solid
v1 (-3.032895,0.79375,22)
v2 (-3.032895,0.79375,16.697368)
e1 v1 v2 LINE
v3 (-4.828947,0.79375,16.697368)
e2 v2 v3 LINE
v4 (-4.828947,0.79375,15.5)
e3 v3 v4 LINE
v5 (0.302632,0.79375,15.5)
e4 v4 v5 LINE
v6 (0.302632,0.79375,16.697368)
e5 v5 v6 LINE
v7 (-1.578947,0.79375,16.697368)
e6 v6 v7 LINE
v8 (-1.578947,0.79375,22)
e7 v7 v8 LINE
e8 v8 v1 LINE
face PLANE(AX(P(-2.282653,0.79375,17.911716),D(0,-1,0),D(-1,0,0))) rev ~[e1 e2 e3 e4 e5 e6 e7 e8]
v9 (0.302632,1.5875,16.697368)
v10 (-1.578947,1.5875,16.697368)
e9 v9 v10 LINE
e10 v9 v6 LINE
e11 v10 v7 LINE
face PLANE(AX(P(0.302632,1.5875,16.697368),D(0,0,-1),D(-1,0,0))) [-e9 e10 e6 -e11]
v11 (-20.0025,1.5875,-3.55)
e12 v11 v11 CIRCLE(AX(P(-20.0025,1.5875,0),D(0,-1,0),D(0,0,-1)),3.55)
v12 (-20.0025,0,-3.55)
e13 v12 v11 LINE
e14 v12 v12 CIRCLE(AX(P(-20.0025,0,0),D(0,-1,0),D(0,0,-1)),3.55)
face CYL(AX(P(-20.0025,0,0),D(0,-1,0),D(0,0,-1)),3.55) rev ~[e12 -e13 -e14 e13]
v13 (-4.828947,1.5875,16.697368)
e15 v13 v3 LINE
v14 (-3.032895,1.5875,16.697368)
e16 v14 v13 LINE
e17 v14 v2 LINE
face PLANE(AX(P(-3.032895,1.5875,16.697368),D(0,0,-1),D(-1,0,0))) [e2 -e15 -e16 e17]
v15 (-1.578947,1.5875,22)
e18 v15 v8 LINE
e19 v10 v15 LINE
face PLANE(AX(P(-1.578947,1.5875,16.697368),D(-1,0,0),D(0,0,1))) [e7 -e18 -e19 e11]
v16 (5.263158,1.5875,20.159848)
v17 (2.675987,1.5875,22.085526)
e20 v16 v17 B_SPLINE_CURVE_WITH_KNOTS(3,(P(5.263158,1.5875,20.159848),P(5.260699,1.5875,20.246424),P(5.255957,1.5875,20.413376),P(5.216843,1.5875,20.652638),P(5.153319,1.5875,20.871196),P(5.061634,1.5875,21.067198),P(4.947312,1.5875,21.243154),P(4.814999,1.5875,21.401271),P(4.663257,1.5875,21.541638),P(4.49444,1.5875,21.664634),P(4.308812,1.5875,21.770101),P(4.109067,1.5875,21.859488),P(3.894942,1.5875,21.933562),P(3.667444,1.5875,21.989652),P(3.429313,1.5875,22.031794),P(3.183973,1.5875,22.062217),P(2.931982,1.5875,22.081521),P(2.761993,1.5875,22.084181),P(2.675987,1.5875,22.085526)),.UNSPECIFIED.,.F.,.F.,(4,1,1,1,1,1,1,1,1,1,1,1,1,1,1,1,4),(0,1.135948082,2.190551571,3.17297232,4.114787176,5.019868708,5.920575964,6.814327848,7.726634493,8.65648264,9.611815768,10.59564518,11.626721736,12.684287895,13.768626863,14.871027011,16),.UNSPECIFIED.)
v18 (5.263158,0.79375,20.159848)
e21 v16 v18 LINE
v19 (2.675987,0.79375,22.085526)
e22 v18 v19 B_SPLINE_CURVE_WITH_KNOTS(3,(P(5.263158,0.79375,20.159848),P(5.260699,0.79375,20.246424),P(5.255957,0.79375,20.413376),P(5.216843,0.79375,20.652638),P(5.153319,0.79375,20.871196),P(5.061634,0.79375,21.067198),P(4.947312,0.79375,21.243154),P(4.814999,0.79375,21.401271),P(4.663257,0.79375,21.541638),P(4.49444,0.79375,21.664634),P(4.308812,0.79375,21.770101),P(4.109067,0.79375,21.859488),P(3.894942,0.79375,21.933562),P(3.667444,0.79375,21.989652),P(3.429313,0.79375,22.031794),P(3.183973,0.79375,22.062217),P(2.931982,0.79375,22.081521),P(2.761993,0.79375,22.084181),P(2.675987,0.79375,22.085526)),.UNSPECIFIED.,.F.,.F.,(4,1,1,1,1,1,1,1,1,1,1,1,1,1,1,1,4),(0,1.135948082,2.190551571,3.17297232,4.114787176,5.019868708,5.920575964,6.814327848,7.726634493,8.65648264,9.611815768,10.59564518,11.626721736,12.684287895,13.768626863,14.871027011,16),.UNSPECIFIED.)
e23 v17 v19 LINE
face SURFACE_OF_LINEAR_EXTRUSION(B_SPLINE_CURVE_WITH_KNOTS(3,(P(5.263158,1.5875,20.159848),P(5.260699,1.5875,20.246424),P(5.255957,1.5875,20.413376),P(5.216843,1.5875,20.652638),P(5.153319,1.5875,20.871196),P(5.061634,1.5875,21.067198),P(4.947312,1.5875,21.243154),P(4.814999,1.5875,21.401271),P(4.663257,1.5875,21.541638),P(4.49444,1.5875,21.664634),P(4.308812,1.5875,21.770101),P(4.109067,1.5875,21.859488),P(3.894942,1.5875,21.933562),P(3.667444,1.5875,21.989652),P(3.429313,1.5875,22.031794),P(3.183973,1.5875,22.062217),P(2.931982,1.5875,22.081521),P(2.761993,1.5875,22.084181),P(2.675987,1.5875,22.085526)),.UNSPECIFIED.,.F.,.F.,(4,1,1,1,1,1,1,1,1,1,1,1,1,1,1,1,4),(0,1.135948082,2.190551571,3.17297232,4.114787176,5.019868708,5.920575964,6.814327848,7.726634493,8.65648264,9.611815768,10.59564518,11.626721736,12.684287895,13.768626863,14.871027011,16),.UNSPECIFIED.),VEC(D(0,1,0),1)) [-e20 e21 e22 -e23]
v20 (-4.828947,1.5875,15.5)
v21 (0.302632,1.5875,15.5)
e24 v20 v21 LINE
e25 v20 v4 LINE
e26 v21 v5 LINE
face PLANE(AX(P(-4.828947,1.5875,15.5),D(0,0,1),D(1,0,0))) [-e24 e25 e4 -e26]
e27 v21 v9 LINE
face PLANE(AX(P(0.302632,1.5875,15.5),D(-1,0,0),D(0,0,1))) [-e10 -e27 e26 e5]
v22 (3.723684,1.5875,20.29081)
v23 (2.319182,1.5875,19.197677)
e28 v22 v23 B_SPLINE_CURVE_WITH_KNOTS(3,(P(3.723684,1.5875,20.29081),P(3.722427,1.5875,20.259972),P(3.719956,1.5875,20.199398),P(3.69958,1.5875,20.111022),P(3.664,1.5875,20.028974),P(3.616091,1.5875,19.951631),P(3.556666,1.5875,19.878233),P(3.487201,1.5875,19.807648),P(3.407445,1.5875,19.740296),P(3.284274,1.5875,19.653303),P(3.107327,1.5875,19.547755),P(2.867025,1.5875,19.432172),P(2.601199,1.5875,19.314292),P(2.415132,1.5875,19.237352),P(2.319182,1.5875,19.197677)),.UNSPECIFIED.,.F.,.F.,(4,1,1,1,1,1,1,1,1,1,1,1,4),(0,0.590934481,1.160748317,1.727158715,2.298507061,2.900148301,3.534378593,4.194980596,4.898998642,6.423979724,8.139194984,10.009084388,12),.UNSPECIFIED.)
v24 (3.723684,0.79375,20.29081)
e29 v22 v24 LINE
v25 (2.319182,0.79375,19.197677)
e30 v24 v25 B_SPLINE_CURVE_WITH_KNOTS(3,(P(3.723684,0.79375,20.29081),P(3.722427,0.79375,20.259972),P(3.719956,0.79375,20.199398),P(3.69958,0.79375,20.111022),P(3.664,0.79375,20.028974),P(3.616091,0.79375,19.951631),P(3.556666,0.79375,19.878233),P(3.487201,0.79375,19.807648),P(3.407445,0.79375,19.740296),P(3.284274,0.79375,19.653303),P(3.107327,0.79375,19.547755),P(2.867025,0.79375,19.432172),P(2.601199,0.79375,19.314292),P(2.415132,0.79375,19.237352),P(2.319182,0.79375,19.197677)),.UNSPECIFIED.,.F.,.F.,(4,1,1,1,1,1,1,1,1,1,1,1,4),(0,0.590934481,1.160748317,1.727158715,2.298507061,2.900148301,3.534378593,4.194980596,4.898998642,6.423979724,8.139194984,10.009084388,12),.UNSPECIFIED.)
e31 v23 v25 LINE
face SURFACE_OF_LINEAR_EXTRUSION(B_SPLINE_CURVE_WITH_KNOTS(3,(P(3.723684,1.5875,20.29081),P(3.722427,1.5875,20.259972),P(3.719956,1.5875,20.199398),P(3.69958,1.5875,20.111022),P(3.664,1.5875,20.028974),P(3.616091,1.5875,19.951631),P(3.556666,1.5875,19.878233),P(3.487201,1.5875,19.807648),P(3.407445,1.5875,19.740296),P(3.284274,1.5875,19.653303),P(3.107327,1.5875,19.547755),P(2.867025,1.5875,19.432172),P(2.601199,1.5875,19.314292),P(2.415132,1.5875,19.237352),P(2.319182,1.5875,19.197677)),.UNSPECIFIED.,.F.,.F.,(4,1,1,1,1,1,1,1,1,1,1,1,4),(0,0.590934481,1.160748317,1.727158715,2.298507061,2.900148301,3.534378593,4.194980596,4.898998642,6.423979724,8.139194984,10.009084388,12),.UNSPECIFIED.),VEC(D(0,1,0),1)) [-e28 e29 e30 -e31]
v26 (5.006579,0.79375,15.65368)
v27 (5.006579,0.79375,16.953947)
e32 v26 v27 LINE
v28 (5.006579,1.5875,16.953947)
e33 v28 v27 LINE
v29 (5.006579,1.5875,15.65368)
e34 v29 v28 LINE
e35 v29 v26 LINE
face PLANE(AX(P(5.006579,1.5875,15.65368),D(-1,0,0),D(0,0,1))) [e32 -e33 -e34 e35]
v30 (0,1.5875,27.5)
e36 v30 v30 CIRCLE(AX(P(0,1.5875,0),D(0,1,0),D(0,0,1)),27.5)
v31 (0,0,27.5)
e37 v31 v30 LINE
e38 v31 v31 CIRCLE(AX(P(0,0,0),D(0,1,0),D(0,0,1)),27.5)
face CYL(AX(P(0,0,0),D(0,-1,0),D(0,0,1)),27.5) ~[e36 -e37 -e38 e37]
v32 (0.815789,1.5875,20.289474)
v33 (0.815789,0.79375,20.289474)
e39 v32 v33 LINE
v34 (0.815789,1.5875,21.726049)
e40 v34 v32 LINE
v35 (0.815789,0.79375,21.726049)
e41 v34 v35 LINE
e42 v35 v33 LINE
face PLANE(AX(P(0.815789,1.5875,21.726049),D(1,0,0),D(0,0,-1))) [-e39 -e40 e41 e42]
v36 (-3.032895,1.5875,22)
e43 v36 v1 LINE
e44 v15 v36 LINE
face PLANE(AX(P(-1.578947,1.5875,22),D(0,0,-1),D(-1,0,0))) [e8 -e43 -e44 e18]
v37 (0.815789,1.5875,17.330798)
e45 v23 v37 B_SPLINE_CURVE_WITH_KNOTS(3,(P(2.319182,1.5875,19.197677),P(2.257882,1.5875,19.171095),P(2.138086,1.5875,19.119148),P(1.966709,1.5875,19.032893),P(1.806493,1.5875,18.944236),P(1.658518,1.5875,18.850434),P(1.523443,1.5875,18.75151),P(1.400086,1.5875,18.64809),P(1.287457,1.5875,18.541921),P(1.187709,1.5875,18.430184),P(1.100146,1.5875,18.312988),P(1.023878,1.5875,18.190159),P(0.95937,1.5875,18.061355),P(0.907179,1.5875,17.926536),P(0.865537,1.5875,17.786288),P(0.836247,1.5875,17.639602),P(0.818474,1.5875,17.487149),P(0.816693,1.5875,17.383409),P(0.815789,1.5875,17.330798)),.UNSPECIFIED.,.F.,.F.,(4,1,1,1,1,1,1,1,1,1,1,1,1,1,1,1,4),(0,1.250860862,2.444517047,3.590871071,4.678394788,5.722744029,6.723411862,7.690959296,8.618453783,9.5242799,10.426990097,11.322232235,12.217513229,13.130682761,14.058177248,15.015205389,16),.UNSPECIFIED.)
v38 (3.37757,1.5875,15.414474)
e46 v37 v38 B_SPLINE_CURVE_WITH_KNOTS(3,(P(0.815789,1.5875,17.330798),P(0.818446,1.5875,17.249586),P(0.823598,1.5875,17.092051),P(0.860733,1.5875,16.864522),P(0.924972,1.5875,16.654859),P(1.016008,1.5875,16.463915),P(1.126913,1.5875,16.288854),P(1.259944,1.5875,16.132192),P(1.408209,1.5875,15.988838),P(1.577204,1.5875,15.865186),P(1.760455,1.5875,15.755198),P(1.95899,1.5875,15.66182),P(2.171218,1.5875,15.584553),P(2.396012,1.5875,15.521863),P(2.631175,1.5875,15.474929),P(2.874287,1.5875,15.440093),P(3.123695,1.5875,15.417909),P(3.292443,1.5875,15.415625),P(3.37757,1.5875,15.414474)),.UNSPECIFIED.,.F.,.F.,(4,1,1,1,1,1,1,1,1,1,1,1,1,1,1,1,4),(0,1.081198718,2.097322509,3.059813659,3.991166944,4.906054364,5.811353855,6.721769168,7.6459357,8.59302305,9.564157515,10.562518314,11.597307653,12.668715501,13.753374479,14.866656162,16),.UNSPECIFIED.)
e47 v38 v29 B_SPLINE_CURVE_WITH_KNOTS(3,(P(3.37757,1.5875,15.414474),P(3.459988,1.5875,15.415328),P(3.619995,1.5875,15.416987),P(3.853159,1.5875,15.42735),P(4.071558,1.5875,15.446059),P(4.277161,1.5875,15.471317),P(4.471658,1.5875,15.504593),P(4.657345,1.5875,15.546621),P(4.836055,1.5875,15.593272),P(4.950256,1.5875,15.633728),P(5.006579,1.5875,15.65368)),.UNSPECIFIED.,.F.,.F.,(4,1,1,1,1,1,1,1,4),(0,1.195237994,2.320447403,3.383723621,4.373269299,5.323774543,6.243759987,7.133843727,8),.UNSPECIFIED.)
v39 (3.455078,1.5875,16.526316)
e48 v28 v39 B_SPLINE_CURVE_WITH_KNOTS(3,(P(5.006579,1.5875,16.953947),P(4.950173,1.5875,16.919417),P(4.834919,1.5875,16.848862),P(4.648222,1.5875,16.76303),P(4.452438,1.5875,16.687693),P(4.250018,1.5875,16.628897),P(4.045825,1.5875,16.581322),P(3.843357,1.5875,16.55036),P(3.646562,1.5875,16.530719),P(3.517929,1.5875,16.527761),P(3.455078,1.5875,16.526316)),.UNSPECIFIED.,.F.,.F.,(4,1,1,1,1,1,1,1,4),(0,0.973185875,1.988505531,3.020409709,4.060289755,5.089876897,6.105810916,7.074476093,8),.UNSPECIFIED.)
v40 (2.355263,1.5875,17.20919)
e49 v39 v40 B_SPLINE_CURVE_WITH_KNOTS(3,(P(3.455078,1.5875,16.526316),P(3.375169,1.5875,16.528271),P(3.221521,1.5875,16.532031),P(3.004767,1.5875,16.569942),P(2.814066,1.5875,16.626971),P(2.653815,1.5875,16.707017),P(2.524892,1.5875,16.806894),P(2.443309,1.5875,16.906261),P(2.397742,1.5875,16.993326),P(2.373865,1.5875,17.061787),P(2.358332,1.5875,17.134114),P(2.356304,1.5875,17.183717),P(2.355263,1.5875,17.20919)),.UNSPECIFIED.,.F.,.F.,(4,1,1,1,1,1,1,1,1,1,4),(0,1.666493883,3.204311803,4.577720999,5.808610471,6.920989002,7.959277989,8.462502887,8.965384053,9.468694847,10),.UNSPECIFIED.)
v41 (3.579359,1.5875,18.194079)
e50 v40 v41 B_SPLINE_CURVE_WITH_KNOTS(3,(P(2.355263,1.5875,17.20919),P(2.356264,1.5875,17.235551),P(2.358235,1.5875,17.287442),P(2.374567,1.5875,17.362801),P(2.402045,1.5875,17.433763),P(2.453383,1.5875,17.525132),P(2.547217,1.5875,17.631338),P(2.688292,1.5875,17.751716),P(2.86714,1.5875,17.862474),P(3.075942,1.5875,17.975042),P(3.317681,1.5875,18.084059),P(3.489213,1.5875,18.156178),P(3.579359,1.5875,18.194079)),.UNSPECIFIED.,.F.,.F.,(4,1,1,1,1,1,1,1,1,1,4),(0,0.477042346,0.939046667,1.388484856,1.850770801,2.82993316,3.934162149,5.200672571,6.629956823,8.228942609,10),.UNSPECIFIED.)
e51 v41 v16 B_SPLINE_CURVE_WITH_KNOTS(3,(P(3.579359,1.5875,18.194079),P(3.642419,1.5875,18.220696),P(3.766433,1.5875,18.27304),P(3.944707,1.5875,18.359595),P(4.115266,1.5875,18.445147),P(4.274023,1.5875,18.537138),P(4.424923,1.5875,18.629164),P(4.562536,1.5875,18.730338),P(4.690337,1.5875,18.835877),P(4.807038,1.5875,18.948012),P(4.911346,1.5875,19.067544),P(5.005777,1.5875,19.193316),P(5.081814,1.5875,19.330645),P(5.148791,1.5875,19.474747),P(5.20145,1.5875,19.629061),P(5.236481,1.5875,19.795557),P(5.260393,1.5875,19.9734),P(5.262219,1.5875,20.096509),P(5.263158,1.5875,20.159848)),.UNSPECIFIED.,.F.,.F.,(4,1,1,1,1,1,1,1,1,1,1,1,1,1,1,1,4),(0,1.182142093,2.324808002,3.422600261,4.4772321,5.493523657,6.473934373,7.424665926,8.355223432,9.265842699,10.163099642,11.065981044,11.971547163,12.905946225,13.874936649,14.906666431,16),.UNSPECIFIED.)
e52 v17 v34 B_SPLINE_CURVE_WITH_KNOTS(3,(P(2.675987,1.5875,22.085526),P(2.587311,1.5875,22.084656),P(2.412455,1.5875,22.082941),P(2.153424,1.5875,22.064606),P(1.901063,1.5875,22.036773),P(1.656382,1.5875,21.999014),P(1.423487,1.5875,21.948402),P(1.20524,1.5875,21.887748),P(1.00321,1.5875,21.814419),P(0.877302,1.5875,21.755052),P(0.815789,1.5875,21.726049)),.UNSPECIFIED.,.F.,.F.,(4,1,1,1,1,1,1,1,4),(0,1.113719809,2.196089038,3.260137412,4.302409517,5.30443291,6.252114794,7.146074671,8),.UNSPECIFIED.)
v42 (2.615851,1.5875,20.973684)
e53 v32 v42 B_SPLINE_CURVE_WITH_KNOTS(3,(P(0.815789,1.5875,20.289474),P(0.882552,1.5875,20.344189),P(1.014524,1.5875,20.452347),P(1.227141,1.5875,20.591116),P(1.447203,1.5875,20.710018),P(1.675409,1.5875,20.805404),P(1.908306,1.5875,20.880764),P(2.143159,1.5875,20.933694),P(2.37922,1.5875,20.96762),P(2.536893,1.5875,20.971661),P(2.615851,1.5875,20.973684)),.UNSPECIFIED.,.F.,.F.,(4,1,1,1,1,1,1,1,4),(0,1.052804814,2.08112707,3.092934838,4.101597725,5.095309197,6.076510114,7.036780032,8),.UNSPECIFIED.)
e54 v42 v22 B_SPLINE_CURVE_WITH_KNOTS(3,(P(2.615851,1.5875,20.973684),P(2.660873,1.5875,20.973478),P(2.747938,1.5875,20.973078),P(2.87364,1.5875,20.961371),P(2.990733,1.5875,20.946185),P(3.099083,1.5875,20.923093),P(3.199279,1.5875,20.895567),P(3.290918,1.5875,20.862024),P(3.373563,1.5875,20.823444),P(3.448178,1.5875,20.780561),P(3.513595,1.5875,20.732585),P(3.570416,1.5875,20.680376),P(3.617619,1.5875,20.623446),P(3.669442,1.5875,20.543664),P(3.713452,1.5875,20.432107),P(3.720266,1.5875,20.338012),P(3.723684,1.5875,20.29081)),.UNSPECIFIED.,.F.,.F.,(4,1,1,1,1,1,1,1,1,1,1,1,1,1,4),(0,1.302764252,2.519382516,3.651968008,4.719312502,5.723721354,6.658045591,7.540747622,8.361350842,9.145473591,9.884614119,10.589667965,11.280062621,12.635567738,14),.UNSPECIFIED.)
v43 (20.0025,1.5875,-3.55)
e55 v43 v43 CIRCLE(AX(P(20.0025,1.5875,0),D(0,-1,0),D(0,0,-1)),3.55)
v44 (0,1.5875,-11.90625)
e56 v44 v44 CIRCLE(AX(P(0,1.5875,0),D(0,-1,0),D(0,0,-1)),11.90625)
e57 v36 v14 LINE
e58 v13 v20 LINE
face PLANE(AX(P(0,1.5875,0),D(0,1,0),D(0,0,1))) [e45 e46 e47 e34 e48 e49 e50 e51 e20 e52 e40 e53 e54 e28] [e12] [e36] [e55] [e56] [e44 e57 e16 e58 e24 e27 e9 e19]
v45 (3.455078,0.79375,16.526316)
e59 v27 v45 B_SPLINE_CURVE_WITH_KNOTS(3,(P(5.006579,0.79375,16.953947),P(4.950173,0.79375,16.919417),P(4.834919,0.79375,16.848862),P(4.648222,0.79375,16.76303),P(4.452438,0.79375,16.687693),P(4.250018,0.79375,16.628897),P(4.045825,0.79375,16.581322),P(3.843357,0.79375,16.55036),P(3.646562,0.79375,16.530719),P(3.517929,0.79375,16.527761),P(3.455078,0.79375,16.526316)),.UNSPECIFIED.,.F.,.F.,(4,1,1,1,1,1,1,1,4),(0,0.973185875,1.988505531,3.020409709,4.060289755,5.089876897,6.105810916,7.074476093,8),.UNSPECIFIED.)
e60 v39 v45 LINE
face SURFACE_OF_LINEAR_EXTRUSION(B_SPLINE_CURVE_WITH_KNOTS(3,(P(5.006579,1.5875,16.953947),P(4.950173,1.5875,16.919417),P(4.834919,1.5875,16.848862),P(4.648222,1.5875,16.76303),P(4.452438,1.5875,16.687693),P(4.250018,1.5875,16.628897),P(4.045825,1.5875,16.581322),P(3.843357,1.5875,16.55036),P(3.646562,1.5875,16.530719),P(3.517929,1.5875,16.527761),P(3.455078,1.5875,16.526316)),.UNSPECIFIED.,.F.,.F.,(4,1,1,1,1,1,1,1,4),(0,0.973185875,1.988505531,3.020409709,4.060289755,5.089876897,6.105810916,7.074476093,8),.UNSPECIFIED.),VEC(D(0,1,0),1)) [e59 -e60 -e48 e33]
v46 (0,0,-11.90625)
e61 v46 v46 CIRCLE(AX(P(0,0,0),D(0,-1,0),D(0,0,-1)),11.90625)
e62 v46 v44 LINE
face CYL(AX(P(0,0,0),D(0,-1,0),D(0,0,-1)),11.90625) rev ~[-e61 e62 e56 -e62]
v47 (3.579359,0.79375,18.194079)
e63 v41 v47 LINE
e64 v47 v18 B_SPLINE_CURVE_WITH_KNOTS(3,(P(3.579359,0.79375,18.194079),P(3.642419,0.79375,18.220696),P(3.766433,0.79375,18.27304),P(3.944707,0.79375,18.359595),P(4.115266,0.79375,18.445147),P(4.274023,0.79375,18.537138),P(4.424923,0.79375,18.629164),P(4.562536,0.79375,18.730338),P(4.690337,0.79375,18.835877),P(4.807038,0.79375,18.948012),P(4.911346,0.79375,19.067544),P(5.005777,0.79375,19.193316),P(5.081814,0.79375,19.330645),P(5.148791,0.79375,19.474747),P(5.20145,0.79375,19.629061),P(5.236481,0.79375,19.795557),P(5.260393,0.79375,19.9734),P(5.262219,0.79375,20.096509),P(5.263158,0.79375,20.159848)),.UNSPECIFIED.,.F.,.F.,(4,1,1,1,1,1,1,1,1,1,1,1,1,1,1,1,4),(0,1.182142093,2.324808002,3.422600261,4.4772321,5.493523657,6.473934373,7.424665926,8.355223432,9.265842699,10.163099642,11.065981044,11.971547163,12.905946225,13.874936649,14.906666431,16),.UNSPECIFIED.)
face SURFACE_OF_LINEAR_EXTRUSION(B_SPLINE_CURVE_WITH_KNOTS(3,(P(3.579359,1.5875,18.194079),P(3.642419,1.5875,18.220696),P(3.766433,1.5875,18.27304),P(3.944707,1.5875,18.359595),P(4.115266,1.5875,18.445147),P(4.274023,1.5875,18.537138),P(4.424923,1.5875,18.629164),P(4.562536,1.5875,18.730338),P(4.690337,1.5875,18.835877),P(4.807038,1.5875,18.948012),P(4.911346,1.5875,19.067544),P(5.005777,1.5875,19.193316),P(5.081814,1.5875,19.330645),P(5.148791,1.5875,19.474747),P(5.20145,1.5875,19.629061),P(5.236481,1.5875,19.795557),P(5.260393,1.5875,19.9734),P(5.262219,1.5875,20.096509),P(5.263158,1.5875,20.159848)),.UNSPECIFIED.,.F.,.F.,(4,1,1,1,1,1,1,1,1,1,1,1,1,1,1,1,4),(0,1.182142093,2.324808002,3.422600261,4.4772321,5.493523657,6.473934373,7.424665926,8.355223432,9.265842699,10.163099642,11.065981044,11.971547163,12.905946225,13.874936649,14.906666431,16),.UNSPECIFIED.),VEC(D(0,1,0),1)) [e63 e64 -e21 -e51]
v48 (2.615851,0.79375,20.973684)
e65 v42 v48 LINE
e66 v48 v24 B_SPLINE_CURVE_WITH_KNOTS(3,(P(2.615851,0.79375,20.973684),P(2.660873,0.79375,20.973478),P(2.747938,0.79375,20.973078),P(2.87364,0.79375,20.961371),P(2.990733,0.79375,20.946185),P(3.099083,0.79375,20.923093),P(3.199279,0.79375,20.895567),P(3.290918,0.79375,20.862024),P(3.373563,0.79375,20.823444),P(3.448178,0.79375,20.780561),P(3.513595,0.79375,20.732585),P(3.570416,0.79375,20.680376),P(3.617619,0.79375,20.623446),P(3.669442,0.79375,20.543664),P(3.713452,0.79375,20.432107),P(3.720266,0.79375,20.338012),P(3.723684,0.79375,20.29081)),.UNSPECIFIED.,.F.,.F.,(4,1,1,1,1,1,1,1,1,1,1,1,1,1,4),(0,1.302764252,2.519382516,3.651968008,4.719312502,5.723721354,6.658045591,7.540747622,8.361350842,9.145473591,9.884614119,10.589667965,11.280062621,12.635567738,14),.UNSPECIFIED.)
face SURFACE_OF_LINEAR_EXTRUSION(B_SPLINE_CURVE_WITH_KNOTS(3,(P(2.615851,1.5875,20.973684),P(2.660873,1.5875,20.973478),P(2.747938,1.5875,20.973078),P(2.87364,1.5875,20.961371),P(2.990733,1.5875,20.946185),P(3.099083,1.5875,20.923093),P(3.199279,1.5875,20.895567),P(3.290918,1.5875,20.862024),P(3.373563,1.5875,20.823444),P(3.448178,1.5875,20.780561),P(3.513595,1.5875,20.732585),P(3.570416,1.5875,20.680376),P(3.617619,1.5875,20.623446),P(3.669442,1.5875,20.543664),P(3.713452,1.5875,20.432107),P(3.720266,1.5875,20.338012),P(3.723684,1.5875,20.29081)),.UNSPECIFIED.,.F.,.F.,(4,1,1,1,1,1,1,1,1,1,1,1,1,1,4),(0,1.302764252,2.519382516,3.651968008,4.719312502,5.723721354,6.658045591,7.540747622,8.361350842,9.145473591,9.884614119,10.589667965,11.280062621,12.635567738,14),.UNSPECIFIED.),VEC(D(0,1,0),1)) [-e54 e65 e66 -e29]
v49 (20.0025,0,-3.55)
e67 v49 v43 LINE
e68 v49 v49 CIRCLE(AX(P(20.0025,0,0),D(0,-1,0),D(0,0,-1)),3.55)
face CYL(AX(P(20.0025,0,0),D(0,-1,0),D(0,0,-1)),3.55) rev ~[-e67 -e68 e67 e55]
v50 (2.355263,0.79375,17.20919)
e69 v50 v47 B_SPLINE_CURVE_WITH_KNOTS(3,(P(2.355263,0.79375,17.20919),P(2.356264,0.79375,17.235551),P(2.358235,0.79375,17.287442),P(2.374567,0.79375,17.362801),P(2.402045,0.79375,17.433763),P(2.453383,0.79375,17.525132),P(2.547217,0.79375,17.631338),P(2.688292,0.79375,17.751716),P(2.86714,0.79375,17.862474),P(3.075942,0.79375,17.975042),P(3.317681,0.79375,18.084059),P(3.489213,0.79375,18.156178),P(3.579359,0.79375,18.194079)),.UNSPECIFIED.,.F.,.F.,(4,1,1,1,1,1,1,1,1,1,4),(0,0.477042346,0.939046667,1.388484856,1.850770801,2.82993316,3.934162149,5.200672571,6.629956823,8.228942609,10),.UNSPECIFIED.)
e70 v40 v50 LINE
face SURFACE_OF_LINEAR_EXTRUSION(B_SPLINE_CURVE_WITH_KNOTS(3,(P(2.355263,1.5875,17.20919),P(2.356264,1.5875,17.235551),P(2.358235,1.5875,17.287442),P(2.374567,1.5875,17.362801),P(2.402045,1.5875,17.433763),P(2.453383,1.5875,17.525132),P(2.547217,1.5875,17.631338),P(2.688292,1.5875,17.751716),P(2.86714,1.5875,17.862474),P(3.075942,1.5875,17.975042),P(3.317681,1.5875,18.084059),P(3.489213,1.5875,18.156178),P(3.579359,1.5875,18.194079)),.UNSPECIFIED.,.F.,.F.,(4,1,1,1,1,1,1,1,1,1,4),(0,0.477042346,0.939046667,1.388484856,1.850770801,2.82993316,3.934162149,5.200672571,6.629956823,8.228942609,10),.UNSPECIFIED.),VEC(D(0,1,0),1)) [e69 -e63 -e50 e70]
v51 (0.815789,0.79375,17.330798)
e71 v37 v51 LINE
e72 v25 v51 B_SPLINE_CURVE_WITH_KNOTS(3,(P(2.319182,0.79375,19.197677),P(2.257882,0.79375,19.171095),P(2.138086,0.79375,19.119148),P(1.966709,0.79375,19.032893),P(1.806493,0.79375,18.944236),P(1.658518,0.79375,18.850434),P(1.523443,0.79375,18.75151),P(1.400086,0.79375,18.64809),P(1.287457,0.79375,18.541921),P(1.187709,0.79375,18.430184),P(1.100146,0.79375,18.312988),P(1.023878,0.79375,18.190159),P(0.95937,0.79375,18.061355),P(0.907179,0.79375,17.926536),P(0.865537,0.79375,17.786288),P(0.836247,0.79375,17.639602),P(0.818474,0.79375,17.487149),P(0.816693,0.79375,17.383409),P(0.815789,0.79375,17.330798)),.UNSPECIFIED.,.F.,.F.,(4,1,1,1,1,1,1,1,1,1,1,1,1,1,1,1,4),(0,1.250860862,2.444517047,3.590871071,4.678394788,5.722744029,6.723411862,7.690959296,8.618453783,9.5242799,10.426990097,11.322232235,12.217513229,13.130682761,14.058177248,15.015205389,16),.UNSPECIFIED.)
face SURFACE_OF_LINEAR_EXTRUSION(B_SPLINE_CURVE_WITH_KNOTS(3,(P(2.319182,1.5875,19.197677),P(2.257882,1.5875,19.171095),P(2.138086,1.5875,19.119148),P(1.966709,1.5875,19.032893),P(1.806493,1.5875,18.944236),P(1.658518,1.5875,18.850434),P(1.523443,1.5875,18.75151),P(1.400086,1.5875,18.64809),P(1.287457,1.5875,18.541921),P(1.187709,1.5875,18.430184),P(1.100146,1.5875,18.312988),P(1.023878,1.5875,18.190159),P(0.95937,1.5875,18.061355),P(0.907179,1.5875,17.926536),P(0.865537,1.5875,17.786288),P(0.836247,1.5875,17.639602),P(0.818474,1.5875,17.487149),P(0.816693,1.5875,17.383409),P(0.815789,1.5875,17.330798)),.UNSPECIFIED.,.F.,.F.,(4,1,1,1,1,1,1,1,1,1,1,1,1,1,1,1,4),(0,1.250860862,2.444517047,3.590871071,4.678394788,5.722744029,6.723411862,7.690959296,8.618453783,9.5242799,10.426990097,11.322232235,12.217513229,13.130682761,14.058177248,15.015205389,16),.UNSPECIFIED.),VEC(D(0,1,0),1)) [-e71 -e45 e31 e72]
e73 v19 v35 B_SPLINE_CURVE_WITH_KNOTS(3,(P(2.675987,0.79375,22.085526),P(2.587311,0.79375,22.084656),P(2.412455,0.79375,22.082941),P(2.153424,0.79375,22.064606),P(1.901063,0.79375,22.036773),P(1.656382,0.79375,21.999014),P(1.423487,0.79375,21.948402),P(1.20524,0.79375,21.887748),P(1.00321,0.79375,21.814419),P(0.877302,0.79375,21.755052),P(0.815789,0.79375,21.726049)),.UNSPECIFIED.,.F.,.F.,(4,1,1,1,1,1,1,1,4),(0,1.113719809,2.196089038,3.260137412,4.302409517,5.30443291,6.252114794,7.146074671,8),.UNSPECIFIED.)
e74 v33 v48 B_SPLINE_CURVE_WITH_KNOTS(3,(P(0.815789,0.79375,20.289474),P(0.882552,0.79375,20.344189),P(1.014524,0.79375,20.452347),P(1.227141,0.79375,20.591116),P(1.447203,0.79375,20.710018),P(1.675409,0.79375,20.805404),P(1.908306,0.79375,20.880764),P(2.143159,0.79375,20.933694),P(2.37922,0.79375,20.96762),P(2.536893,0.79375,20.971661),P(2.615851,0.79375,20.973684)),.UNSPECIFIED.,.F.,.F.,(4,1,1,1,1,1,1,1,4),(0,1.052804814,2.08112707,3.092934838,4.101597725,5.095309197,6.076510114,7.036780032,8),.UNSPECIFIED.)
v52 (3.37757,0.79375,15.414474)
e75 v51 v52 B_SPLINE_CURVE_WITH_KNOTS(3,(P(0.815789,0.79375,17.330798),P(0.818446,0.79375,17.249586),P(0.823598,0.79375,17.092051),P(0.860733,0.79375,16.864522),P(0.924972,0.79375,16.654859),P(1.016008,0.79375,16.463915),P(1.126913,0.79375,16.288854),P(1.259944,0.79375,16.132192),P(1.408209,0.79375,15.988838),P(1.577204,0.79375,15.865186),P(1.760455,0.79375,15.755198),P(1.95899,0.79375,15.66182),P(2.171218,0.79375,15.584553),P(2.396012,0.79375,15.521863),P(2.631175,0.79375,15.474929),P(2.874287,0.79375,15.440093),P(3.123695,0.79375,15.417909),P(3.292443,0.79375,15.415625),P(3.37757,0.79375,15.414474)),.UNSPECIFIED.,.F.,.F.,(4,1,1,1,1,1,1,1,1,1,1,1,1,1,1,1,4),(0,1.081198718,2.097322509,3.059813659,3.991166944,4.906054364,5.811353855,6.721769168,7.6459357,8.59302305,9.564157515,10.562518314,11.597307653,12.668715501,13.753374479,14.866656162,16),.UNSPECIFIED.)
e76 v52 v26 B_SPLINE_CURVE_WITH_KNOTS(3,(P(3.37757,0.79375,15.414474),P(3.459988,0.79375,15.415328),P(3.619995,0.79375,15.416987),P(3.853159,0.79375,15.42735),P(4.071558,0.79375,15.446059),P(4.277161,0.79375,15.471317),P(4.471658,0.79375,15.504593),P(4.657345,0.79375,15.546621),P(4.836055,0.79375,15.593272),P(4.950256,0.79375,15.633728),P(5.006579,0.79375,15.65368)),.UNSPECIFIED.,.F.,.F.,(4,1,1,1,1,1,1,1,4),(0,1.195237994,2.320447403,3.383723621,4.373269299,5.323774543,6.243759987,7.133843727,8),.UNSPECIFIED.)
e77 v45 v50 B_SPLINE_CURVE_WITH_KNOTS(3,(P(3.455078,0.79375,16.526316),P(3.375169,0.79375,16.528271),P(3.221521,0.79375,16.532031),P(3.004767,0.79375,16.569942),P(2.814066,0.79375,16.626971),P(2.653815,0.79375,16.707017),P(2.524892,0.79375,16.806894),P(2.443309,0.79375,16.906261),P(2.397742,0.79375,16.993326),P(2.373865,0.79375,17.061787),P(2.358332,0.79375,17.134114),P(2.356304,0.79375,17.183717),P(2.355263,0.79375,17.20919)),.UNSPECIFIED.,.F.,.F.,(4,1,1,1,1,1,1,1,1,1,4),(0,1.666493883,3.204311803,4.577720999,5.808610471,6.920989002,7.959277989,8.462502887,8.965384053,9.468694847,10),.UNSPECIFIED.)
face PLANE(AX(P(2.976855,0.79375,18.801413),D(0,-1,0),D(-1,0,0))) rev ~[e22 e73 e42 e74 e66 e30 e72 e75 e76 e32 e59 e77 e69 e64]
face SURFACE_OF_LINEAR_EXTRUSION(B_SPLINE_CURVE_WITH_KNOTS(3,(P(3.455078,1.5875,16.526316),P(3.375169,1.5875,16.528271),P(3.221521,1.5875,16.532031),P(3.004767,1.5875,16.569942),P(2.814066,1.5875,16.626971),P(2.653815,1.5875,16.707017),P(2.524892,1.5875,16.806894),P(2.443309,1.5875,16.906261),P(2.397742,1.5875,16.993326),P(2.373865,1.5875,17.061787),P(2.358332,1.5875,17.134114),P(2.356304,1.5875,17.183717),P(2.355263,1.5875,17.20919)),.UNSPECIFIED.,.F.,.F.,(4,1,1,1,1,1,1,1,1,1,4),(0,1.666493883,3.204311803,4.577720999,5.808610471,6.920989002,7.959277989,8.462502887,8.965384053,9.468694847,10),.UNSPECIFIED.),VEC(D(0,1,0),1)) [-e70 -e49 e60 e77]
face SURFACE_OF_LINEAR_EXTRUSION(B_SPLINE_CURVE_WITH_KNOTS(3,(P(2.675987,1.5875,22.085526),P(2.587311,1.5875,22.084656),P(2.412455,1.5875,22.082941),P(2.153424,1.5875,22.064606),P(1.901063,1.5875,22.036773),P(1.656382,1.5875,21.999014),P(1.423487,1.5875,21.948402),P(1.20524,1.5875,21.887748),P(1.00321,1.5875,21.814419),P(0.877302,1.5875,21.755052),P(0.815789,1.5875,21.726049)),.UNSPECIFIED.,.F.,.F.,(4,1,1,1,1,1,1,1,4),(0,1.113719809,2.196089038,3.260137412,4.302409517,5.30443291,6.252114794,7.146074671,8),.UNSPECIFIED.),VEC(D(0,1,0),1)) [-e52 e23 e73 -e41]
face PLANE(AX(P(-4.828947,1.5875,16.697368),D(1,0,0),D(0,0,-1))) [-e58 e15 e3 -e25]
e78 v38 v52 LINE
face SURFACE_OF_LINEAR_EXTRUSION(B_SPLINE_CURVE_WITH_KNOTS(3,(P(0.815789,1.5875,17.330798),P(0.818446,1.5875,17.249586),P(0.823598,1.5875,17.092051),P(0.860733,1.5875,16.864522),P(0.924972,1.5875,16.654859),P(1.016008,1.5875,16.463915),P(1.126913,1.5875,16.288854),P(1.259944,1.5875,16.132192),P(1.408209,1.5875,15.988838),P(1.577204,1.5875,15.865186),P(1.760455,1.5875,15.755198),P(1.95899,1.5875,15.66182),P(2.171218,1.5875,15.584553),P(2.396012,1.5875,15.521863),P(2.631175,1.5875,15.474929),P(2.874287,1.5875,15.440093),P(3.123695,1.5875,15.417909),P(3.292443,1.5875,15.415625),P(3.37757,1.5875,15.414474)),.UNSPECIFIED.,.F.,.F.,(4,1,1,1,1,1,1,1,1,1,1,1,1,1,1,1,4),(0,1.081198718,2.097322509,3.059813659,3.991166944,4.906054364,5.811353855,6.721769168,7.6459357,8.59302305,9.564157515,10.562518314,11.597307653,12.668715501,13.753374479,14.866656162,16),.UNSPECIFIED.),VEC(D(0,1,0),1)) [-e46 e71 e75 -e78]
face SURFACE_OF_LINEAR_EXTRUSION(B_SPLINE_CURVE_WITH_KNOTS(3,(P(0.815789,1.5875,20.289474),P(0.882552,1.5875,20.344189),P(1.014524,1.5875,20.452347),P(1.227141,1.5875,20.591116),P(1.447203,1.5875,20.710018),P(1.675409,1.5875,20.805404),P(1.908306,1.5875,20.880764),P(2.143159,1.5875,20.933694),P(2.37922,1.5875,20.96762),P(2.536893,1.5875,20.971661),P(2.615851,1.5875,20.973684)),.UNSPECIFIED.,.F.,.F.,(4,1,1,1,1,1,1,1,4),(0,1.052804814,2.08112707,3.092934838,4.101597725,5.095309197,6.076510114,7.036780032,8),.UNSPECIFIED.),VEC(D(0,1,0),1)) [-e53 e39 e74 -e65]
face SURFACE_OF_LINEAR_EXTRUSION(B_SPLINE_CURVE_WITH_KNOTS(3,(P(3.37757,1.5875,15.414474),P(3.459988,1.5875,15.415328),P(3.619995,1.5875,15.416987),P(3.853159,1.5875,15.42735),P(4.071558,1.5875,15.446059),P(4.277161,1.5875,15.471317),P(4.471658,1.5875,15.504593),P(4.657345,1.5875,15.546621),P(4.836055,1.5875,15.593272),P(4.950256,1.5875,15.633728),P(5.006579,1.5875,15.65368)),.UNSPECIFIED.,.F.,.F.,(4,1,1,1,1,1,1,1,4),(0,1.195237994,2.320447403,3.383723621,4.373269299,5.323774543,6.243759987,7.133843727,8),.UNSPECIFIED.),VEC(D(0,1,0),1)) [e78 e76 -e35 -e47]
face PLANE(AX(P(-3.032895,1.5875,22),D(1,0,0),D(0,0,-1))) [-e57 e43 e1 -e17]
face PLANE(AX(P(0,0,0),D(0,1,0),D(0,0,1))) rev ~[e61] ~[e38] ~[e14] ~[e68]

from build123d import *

# Parameters (mm, degrees)
SKETCH1_R           = 27.5
BOSS_EXTRUDE1_DEPTH = 1.5875
SKETCH4_R           = 3.55
SKETCH4_R_2         = 11.90625
CUT_EXTRUDE2_DEPTH  = 39.923259836
CUT_EXTRUDE1_DEPTH  = 0.79375


with BuildPart() as part:
    # Sketch1 → Boss-Extrude1 (new body)
    with BuildSketch(Plane(origin=(0, 0, 0), x_dir=(1, 0, 0), z_dir=(0, 1, 0))):
        with Locations(Location((0, 0, 0), (0, 0, 270))):
            Circle(SKETCH1_R)
    extrude(amount=BOSS_EXTRUDE1_DEPTH)

    # Sketch4 → Cut-Extrude2 (cut, through all)
    with BuildSketch(Plane.XZ):
        with Locations(Location((-20.0025, 0, 0), (0, 0, 270))):
            Circle(SKETCH4_R)
        with Locations(Location((0, 0, 0), (0, 0, 270))):
            Circle(SKETCH4_R_2)
        with Locations(Location((20.0025, 0, 0), (0, 0, 270))):
            Circle(SKETCH4_R)
    extrude(amount=-CUT_EXTRUDE2_DEPTH, mode=Mode.SUBTRACT)

    # Sketch2 → Cut-Extrude1 (cut)
    with BuildSketch(Plane(origin=(0, 1.5875, 0), x_dir=(1, 0, 0), z_dir=(0, 1, 0))):
        Polygon((0.302631579, -16.697368421), (-1.578947368, -16.697368421), (-1.578947368, -22), (-3.032894737, -22), (-3.032894737, -16.697368421), (-4.828947368, -16.697368421), (-4.828947368, -15.5), (0.302631579, -15.5), align=None)
        with BuildLine():
            Line((0.815789474, -21.72604852), (0.815789474, -20.289473684))
            add(Edge.make_bspline(
                [(0.815789474, -20.289473684), (0.882551721, -20.344188934), (1.014523687, -20.452347051), (1.227140713, -20.591115516), (1.447202728, -20.71001818), (1.675409001, -20.805403848), (1.908305656, -20.880763679), (2.143159037, -20.933694233), (2.379219718, -20.967619991), (2.536893399, -20.971660738), (2.615851151, -20.973684211)],
                knots=[0, 0, 0, 0, 1.052804814, 2.08112707, 3.092934838, 4.101597725, 5.095309197, 6.076510114, 7.036780032, 8, 8, 8, 8], degree=3))
            add(Edge.make_bspline(
                [(2.615851151, -20.973684211), (2.66087259, -20.973477518), (2.747938401, -20.9730778), (2.873639842, -20.961370885), (2.99073314, -20.94618485), (3.099082786, -20.923092555), (3.199279135, -20.895566542), (3.290917674, -20.86202374), (3.37356266, -20.823444156), (3.448177848, -20.780561289), (3.513594969, -20.732584572), (3.570415866, -20.680375528), (3.617618767, -20.623446094), (3.669442478, -20.543663794), (3.713452108, -20.432106591), (3.720266055, -20.338011829), (3.723684211, -20.290810033)],
                knots=[0, 0, 0, 0, 1.302764252, 2.519382516, 3.651968008, 4.719312502, 5.723721354, 6.658045591, 7.540747622, 8.361350842, 9.145473591, 9.884614119, 10.589667965, 11.280062621, 12.635567738, 14, 14, 14, 14], degree=3))
            add(Edge.make_bspline(
                [(3.723684211, -20.290810033), (3.722426598, -20.25997207), (3.719956321, -20.199398327), (3.69958044, -20.111022196), (3.664000491, -20.028974033), (3.616091236, -19.951631438), (3.556666419, -19.878233023), (3.487201128, -19.807648429), (3.407444856, -19.74029614), (3.284273886, -19.653302777), (3.10732717, -19.54775519), (2.867024513, -19.432171656), (2.601198691, -19.31429187), (2.415131632, -19.237352446), (2.319181743, -19.197676809)],
                knots=[0, 0, 0, 0, 0.590934481, 1.160748317, 1.727158715, 2.298507061, 2.900148301, 3.534378593, 4.194980596, 4.898998642, 6.423979724, 8.139194984, 10.009084388, 12, 12, 12, 12], degree=3))
            add(Edge.make_bspline(
                [(2.319181743, -19.197676809), (2.25788199, -19.17109541), (2.13808586, -19.119148238), (1.966708906, -19.032893283), (1.806493367, -18.944235596), (1.658517988, -18.850434485), (1.523442829, -18.751509678), (1.400085763, -18.64808955), (1.287457443, -18.541920664), (1.187708549, -18.43018436), (1.1001457, -18.312988169), (1.023877944, -18.190158763), (0.959369951, -18.061355383), (0.907178809, -17.926536043), (0.86553669, -17.786288337), (0.836246584, -17.639602069), (0.818473996, -17.487149218), (0.816692804, -17.383409336), (0.815789474, -17.330797697)],
                knots=[0, 0, 0, 0, 1.250860862, 2.444517047, 3.590871071, 4.678394788, 5.722744029, 6.723411862, 7.690959296, 8.618453783, 9.5242799, 10.426990097, 11.322232235, 12.217513229, 13.130682761, 14.058177248, 15.015205389, 16, 16, 16, 16], degree=3))
            add(Edge.make_bspline(
                [(0.815789474, -17.330797697), (0.818445505, -17.24958618), (0.823597707, -17.092051084), (0.860733455, -16.864521582), (0.924971912, -16.654859183), (1.016007936, -16.463914802), (1.126913051, -16.288854456), (1.259943872, -16.132191858), (1.408209222, -15.98883825), (1.57720384, -15.865185708), (1.760454764, -15.755197728), (1.958989864, -15.661820169), (2.171218494, -15.584552959), (2.396012169, -15.521863248), (2.631175245, -15.474928872), (2.874286713, -15.44009323), (3.123695328, -15.417908638), (3.292442744, -15.415625465), (3.377569901, -15.414473684)],
                knots=[0, 0, 0, 0, 1.081198718, 2.097322509, 3.059813659, 3.991166944, 4.906054364, 5.811353855, 6.721769168, 7.6459357, 8.59302305, 9.564157515, 10.562518314, 11.597307653, 12.668715501, 13.753374479, 14.866656162, 16, 16, 16, 16], degree=3))
            add(Edge.make_bspline(
                [(3.377569901, -15.414473684), (3.459987869, -15.415328313), (3.619994963, -15.416987499), (3.853159002, -15.427349754), (4.071558284, -15.446058754), (4.277161442, -15.471317206), (4.471658491, -15.504592658), (4.657344536, -15.546621391), (4.836054655, -15.593272055), (4.950256153, -15.633727811), (5.006578947, -15.653680099)],
                knots=[0, 0, 0, 0, 1.195237994, 2.320447403, 3.383723621, 4.373269299, 5.323774543, 6.243759987, 7.133843727, 8, 8, 8, 8], degree=3))
            Line((5.006578947, -15.653680099), (5.006578947, -16.953947368))
            add(Edge.make_bspline(
                [(5.006578947, -16.953947368), (4.950172841, -16.919417089), (4.834918543, -16.848861552), (4.648222275, -16.763029921), (4.452438329, -16.687693178), (4.250017568, -16.628897123), (4.045825372, -16.581321754), (3.843357111, -16.55035981), (3.646561557, -16.530718962), (3.517929378, -16.527761058), (3.455078125, -16.526315789)],
                knots=[0, 0, 0, 0, 0.973185875, 1.988505531, 3.020409709, 4.060289755, 5.089876897, 6.105810916, 7.074476093, 8, 8, 8, 8], degree=3))
            add(Edge.make_bspline(
                [(3.455078125, -16.526315789), (3.375169145, -16.528271218), (3.221521244, -16.53203109), (3.004767156, -16.569942483), (2.814066446, -16.626970822), (2.653815081, -16.70701684), (2.524891785, -16.806893537), (2.443308815, -16.906260816), (2.397741766, -16.993326378), (2.373865074, -17.061787316), (2.358331899, -17.134114289), (2.356304358, -17.183717359), (2.355263158, -17.209189967)],
                knots=[0, 0, 0, 0, 1.666493883, 3.204311803, 4.577720999, 5.808610471, 6.920989002, 7.959277989, 8.462502887, 8.965384053, 9.468694847, 10, 10, 10, 10], degree=3))
            add(Edge.make_bspline(
                [(2.355263158, -17.209189967), (2.356264289, -17.235551094), (2.358234991, -17.287442354), (2.374567326, -17.362801103), (2.402045011, -17.433762827), (2.453383319, -17.525132191), (2.547217166, -17.631338354), (2.688292429, -17.751715683), (2.86713992, -17.86247441), (3.075942128, -17.975041667), (3.317681453, -18.084059425), (3.489213426, -18.15617833), (3.579358553, -18.194078947)],
                knots=[0, 0, 0, 0, 0.477042346, 0.939046667, 1.388484856, 1.850770801, 2.82993316, 3.934162149, 5.200672571, 6.629956823, 8.228942609, 10, 10, 10, 10], degree=3))
            add(Edge.make_bspline(
                [(3.579358553, -18.194078947), (3.642418803, -18.220695676), (3.766433485, -18.273040301), (3.944706675, -18.359594534), (4.115266372, -18.44514729), (4.274023112, -18.537137812), (4.424922951, -18.629163804), (4.562535728, -18.730337502), (4.690337429, -18.835876907), (4.807037692, -18.948012462), (4.911345614, -19.067543538), (5.005777242, -19.193316325), (5.081813941, -19.330644509), (5.148791414, -19.474746561), (5.201449594, -19.629060676), (5.236481483, -19.79555739), (5.260393083, -19.973400477), (5.26221865, -20.096509128), (5.263157895, -20.159847862)],
                knots=[0, 0, 0, 0, 1.182142093, 2.324808002, 3.422600261, 4.4772321, 5.493523657, 6.473934373, 7.424665926, 8.355223432, 9.265842699, 10.163099642, 11.065981044, 11.971547163, 12.905946225, 13.874936649, 14.906666431, 16, 16, 16, 16], degree=3))
            add(Edge.make_bspline(
                [(5.263157895, -20.159847862), (5.260698876, -20.246423805), (5.255956928, -20.413376037), (5.21684268, -20.652638228), (5.153319213, -20.871196294), (5.061633909, -21.067198456), (4.947311835, -21.243154326), (4.81499893, -21.401271052), (4.663257063, -21.541638016), (4.494440069, -21.664634165), (4.308811924, -21.770101447), (4.109066808, -21.859488309), (3.894942021, -21.933562285), (3.667444469, -21.989651833), (3.429313461, -22.03179399), (3.183972553, -22.06221662), (2.931981847, -22.081521047), (2.761993293, -22.084180669), (2.675986842, -22.085526316)],
                knots=[0, 0, 0, 0, 1.135948082, 2.190551571, 3.17297232, 4.114787176, 5.019868708, 5.920575964, 6.814327848, 7.726634493, 8.65648264, 9.611815768, 10.59564518, 11.626721736, 12.684287895, 13.768626863, 14.871027011, 16, 16, 16, 16], degree=3))
            add(Edge.make_bspline(
                [(2.675986842, -22.085526316), (2.5873109, -22.084656233), (2.412455192, -22.08294056), (2.153423566, -22.064606065), (1.901063457, -22.036772954), (1.656381842, -21.999013651), (1.423487146, -21.948401798), (1.205239595, -21.887748169), (1.003210107, -21.814418992), (0.877301726, -21.755052086), (0.815789474, -21.72604852)],
                knots=[0, 0, 0, 0, 1.113719809, 2.196089038, 3.260137412, 4.302409517, 5.30443291, 6.252114794, 7.146074671, 8, 8, 8, 8], degree=3))
        make_face()
    extrude(amount=-CUT_EXTRUDE1_DEPTH, mode=Mode.SUBTRACT)


solid = part.part
